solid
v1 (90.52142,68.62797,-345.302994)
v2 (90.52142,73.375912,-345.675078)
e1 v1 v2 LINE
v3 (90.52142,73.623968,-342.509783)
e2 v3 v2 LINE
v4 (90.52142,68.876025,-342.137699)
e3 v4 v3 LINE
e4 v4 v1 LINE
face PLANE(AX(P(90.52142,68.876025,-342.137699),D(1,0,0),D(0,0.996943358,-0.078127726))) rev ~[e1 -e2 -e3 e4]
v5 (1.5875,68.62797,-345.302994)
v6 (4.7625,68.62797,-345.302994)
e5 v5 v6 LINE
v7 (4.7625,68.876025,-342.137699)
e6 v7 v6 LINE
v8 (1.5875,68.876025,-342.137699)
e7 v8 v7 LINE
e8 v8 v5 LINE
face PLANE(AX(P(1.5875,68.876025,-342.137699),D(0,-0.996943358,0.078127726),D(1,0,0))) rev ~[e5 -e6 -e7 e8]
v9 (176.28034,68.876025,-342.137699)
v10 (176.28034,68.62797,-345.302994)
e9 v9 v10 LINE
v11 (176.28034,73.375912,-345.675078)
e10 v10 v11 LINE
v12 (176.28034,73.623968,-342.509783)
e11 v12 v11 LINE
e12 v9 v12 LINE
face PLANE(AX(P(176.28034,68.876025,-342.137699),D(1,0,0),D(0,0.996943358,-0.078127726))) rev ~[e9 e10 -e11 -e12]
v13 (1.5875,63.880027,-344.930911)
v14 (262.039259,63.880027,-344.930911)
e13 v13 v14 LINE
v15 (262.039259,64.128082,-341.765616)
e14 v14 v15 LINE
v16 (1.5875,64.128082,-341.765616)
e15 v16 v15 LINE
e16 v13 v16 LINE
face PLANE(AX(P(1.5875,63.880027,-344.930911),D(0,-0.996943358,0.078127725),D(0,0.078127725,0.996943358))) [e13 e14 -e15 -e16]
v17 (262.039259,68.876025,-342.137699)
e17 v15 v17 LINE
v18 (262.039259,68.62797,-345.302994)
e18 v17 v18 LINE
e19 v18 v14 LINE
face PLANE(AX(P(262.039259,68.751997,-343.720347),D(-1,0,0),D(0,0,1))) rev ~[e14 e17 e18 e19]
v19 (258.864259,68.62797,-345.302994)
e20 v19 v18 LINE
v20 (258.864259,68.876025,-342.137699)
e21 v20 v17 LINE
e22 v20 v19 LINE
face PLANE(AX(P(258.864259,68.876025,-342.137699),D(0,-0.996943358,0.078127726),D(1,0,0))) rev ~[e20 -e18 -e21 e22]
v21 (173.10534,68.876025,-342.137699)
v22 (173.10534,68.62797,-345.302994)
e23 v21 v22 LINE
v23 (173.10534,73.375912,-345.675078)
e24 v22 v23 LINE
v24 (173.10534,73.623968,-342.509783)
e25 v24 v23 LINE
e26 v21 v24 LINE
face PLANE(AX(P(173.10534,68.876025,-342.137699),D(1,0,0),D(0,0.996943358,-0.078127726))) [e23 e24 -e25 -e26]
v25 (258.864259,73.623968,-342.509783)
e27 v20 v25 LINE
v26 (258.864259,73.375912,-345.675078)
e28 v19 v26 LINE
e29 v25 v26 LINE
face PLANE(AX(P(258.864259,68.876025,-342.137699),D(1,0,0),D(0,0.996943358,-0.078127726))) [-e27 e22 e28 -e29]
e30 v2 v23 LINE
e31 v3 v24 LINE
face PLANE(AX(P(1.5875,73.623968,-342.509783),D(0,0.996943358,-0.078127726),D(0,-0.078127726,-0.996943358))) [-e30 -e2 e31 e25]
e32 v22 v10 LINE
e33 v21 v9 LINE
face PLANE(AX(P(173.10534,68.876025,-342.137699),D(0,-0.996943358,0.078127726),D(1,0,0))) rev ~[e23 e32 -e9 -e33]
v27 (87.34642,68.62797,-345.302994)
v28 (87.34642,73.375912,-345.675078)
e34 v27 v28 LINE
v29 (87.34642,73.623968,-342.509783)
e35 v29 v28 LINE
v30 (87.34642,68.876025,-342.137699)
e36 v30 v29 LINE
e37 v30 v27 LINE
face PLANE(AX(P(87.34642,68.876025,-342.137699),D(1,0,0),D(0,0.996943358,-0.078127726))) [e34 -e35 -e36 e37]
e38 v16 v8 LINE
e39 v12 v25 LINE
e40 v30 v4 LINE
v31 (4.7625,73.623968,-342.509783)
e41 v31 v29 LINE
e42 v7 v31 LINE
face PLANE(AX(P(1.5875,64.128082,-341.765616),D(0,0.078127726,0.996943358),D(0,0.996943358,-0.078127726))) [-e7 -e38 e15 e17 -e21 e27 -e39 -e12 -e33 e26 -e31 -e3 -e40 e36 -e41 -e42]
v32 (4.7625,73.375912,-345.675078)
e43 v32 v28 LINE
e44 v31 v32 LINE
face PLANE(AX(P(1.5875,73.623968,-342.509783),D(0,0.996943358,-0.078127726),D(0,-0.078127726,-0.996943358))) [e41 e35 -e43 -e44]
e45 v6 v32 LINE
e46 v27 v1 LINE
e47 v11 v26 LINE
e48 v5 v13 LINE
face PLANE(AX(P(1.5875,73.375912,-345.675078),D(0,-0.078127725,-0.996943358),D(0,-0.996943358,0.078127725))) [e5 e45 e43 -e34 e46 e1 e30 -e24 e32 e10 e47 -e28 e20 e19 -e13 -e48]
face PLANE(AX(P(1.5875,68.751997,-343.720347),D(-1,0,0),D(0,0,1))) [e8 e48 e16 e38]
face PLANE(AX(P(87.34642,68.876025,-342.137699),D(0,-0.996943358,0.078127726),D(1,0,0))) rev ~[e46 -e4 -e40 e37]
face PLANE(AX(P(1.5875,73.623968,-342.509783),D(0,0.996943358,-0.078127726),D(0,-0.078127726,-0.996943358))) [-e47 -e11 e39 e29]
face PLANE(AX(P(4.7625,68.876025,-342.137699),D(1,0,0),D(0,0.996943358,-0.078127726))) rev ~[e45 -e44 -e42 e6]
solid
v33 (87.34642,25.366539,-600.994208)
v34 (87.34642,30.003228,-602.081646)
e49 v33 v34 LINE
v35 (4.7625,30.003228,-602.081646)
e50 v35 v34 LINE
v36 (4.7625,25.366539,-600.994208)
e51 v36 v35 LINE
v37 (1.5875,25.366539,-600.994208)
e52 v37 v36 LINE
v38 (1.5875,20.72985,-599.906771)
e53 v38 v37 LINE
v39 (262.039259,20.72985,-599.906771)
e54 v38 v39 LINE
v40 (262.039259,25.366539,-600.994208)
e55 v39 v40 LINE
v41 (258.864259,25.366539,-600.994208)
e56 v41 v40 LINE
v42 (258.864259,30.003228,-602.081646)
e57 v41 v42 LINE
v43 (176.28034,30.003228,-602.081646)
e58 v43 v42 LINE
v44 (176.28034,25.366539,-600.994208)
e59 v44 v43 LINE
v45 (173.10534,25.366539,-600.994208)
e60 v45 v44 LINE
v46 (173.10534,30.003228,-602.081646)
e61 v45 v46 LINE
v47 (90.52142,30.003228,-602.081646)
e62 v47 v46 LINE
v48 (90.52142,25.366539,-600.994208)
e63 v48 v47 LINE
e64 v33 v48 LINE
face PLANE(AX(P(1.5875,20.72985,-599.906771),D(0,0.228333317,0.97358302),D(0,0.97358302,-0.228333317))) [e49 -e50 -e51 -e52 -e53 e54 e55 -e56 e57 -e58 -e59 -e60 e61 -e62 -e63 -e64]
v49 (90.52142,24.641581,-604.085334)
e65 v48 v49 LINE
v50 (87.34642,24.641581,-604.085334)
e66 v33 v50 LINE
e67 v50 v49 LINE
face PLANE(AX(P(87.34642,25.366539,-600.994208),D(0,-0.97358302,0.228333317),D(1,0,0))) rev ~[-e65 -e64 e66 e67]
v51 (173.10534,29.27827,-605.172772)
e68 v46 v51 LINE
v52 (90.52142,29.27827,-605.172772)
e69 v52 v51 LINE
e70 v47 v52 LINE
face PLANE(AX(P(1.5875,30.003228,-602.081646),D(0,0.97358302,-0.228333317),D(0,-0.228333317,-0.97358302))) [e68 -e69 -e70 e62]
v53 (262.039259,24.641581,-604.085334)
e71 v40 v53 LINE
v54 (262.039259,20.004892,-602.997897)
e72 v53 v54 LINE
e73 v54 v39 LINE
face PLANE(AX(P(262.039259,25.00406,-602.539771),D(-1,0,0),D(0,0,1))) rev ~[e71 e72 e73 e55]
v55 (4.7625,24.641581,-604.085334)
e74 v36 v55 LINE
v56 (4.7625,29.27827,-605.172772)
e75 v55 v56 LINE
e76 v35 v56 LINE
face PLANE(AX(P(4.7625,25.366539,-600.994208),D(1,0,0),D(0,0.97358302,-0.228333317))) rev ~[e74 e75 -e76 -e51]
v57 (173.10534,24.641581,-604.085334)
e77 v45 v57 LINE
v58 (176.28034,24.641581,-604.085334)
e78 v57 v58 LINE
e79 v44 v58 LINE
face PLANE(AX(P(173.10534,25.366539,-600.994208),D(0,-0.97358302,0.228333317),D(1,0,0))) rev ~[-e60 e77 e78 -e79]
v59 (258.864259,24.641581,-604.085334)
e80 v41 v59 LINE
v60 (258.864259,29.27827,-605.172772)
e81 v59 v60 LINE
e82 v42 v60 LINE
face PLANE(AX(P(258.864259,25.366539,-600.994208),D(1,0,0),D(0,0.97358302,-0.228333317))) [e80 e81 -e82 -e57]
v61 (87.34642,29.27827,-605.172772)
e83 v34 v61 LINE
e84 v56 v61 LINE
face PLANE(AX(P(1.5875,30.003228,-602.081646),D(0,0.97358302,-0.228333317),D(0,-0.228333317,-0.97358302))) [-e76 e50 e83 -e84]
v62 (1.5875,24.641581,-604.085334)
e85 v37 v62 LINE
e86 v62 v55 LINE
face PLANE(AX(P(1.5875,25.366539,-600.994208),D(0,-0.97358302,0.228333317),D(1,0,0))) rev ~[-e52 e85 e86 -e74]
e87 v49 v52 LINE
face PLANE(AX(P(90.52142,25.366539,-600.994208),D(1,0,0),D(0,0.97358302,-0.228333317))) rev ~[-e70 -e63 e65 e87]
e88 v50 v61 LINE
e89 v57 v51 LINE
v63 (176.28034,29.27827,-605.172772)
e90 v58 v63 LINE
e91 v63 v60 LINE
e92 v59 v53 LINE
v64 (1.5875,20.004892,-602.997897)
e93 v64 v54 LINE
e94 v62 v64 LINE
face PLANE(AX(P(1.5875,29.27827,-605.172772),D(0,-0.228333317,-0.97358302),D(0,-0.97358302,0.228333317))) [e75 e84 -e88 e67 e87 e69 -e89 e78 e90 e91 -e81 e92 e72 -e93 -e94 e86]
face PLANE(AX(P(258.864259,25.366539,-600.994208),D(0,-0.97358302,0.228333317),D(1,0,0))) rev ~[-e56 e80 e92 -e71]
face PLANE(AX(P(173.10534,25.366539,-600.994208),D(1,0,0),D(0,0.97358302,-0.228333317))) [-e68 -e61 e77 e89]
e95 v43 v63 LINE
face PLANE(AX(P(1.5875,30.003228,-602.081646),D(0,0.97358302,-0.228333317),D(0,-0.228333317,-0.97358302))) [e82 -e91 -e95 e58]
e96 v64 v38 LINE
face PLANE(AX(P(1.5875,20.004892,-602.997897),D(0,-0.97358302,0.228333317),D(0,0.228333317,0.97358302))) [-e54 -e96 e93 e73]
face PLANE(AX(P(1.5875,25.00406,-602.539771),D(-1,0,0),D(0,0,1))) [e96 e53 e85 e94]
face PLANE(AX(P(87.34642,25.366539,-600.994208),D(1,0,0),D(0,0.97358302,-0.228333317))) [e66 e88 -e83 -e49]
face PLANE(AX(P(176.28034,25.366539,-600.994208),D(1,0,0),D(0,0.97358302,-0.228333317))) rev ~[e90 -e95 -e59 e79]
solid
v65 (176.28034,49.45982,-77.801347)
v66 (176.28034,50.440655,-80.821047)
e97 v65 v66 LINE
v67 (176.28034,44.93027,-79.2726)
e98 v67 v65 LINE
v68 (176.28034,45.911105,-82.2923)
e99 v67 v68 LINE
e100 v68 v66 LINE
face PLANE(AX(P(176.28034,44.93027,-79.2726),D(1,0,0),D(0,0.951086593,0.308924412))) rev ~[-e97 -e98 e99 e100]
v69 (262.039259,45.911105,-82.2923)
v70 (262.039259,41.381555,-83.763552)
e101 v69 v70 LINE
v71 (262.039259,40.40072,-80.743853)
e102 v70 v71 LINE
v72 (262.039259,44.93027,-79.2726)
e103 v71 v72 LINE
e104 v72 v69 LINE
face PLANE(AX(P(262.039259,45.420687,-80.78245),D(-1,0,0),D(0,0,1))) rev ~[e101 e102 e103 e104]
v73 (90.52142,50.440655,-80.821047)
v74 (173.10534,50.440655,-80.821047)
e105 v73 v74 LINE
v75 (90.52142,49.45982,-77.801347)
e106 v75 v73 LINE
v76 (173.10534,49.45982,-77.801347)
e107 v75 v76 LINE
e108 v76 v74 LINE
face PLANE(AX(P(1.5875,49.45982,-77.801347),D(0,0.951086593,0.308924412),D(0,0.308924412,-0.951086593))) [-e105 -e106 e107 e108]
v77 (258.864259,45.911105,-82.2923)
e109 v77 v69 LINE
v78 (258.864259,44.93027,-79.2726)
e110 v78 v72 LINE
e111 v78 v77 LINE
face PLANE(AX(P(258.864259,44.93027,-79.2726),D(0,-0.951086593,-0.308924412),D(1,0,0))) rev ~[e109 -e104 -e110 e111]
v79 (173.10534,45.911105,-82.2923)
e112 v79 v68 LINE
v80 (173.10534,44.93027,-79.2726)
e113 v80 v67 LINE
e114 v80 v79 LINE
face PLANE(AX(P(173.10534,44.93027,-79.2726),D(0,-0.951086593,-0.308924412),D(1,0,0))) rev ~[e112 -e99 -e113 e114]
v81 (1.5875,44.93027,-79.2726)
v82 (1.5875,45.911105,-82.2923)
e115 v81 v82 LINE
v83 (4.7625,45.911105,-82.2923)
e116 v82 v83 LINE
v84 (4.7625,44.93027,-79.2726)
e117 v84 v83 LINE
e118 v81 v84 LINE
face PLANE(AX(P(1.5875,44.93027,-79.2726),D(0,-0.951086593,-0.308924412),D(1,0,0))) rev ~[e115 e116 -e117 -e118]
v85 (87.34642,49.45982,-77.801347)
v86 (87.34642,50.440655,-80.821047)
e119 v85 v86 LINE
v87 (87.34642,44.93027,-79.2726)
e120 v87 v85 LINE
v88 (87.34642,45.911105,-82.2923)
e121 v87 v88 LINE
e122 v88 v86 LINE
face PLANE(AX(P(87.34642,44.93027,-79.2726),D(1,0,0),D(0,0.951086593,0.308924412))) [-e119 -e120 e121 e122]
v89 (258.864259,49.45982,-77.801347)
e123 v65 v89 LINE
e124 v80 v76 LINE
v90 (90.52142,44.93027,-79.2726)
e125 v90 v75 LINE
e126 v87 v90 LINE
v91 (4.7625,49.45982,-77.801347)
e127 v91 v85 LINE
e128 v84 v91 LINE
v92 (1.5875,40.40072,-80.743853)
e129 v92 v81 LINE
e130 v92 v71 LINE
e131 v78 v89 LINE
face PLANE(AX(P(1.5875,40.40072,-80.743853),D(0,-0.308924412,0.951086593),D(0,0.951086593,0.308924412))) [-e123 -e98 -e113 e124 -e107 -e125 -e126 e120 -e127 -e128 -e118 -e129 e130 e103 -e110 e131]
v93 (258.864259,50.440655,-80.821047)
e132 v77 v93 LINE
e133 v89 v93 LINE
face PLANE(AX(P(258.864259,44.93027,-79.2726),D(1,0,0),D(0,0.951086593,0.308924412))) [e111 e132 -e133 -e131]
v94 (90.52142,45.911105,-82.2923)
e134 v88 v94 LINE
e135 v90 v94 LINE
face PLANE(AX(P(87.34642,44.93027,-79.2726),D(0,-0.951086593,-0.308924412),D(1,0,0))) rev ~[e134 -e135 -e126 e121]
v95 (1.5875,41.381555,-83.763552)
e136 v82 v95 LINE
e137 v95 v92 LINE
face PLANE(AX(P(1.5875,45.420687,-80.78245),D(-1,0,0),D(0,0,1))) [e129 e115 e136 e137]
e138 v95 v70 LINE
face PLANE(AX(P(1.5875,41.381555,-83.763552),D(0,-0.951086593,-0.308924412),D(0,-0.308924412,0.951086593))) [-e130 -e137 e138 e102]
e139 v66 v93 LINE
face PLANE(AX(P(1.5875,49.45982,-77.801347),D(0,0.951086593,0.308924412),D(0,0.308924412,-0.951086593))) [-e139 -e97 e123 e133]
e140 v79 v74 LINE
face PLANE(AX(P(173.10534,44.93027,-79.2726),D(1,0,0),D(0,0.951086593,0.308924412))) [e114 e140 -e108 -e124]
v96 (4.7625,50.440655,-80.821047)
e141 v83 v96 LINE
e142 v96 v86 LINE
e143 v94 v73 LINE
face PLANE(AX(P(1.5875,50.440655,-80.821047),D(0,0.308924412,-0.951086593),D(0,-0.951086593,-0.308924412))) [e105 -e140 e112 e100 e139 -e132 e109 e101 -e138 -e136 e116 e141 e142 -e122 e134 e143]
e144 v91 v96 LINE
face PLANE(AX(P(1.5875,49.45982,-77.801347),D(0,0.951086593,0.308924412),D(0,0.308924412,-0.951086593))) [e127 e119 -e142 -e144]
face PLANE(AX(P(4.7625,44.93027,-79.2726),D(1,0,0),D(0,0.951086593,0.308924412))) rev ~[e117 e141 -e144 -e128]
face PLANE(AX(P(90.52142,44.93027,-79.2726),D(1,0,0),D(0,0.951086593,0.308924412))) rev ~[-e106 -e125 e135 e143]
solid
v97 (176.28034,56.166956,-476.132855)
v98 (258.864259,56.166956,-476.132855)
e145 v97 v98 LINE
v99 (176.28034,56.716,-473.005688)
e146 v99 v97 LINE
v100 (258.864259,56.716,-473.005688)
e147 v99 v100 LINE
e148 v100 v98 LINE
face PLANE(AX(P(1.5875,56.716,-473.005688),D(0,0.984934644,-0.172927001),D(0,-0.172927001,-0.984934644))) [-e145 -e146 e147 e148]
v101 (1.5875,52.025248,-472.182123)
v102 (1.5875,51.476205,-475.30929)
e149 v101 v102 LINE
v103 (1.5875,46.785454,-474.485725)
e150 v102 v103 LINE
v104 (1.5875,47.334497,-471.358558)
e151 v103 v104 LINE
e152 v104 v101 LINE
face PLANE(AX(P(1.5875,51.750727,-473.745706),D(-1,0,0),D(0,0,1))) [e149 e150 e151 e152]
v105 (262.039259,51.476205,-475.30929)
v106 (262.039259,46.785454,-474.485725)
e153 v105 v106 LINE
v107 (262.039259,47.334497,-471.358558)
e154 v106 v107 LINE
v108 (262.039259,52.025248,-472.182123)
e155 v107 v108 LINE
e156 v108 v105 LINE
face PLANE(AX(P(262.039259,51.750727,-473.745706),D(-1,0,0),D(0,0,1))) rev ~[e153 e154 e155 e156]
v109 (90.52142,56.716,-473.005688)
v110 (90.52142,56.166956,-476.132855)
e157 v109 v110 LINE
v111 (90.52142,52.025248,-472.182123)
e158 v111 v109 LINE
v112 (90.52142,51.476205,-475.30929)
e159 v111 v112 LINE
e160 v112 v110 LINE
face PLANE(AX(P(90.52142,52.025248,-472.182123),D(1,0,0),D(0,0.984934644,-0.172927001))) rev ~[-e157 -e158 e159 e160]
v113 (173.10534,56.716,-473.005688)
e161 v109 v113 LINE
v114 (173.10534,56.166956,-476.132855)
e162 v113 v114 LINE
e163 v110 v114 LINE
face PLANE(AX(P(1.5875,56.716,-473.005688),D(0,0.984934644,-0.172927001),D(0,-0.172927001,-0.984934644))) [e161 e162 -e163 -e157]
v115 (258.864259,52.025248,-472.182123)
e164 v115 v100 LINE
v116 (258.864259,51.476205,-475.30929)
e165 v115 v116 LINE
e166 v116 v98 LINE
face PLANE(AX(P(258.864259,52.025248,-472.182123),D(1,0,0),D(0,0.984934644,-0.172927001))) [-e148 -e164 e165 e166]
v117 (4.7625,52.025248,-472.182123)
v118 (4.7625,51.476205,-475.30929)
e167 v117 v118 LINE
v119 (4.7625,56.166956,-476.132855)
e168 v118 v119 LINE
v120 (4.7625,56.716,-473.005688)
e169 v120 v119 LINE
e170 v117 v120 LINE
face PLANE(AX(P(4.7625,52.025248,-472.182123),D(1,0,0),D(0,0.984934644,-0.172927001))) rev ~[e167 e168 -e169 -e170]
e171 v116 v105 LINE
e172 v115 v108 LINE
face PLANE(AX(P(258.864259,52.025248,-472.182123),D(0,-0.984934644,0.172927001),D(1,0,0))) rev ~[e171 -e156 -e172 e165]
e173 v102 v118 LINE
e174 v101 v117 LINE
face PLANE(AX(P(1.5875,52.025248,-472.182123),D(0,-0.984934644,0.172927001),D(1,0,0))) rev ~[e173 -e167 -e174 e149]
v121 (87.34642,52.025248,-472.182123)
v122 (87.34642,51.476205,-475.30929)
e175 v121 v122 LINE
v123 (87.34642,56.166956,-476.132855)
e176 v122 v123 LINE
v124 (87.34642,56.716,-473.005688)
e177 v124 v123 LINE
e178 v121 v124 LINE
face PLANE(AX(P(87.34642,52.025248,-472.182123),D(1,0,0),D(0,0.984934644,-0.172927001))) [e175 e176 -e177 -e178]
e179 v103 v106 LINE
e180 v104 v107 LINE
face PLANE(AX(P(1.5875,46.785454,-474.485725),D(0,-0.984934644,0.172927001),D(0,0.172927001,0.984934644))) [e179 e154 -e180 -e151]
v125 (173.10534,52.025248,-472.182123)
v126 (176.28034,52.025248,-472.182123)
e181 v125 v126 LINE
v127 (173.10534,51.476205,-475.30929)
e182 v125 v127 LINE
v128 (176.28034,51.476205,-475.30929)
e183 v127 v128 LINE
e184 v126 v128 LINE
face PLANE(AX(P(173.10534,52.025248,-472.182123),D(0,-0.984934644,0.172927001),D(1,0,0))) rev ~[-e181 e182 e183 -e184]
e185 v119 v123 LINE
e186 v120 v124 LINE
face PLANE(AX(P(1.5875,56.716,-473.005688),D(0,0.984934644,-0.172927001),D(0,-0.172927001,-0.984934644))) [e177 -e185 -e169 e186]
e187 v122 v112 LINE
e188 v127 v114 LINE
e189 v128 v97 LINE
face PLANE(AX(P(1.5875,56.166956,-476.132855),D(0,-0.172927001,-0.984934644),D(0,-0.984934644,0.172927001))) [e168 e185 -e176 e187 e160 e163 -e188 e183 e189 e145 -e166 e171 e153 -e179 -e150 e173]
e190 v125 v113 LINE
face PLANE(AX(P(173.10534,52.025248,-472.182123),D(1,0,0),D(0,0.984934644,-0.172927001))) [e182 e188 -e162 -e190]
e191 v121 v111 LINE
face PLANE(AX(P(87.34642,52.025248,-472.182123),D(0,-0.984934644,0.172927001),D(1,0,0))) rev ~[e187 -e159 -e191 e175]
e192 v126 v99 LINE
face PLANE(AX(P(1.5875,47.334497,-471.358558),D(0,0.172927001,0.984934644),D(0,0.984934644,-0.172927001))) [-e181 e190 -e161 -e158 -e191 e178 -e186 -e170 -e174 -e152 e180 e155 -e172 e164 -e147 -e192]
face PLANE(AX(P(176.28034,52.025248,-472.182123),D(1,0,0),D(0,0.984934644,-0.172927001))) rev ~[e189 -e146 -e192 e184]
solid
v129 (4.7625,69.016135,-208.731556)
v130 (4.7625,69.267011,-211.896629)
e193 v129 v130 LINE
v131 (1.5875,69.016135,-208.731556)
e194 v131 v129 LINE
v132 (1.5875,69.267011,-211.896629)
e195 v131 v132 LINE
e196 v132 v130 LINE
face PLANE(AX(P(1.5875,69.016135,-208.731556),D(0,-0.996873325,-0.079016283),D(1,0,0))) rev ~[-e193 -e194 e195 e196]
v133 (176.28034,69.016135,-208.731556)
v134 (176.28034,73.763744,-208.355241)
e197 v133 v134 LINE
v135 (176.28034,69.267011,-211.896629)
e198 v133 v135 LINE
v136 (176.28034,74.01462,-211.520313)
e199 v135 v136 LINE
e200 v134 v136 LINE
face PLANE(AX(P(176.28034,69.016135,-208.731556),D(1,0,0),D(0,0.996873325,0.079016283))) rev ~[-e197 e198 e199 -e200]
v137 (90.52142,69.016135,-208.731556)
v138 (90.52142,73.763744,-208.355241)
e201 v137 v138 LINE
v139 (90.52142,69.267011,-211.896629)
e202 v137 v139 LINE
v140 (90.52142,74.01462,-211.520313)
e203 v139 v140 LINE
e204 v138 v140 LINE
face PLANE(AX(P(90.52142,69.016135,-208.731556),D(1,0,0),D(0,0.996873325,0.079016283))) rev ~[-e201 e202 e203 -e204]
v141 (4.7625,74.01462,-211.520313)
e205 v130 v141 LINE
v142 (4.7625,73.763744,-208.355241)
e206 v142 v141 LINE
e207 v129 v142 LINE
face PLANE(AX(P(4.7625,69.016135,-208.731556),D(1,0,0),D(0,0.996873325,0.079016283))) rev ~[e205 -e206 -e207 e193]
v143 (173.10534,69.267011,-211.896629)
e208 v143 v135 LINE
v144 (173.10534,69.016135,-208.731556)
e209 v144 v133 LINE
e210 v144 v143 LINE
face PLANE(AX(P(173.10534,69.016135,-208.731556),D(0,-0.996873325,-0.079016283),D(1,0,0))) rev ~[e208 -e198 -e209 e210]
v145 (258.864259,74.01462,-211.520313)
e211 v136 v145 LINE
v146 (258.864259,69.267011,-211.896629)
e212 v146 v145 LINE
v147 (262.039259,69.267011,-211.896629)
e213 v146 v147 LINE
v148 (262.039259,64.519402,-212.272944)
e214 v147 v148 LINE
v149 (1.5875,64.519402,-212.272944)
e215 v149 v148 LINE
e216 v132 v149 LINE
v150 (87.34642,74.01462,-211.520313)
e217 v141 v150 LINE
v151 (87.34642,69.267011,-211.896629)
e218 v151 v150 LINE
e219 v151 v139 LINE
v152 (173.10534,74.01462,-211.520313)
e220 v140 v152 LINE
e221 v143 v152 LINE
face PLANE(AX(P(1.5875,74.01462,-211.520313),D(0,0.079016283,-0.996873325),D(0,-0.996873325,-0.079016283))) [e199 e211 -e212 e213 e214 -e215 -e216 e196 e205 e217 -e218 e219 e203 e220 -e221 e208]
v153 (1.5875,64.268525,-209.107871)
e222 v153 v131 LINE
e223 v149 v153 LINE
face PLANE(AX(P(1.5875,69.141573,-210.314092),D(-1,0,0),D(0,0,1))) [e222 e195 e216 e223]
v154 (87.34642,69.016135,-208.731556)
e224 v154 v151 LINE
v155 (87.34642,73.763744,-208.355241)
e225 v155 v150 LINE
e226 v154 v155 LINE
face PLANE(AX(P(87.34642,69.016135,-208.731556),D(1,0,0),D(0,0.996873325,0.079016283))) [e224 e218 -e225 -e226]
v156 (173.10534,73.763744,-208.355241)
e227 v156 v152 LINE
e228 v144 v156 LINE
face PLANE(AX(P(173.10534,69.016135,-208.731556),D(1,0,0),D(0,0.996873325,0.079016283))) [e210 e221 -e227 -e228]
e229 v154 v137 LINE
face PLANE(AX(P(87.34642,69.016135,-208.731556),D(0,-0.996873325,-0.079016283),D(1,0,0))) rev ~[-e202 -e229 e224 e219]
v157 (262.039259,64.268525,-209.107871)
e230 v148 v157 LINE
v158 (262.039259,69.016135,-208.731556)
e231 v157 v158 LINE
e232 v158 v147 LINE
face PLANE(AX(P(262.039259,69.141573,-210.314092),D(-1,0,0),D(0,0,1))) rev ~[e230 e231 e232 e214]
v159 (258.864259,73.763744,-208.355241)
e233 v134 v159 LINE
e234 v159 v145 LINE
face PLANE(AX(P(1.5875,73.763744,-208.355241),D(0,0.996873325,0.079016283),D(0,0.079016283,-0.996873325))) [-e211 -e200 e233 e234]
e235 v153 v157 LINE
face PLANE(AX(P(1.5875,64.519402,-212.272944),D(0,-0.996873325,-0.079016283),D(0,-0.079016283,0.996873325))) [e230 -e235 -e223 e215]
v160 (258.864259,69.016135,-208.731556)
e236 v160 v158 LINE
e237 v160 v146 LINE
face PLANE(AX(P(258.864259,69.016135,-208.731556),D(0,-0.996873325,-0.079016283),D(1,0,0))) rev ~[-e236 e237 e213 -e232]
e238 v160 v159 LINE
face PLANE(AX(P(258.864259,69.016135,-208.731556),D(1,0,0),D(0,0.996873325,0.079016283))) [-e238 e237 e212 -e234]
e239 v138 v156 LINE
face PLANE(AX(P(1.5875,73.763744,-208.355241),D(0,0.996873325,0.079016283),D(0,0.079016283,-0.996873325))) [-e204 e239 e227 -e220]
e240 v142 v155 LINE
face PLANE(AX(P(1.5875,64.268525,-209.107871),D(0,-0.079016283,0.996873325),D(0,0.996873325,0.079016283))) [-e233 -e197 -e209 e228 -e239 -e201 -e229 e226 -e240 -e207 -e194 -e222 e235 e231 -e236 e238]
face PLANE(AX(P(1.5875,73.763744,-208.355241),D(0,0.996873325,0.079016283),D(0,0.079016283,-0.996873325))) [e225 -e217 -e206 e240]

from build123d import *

# Parameters (mm, degrees)
BOSS_EXTRUDE1_START   = 1.5875
BOSS_EXTRUDE1_DEPTH   = 260.451759289
BOSS_EXTRUDE1_2_DEPTH = 260.451759289
BOSS_EXTRUDE1_3_DEPTH = 260.451759289
BOSS_EXTRUDE1_4_DEPTH = 260.451759289
BOSS_EXTRUDE1_5_DEPTH = 260.451759289
SKETCH2_W             = 3.175
SKETCH2_H             = 4.7625
CUT_EXTRUDE1_DEPTH    = 3.175
SKETCH3_W             = 3.175
SKETCH3_H             = 4.7625
CUT_EXTRUDE2_DEPTH    = 3.175
SKETCH4_W             = 3.175
SKETCH4_H             = 4.7625
CUT_EXTRUDE3_DEPTH    = 3.175
SKETCH5_W             = 3.175
SKETCH5_H             = 4.7625
CUT_EXTRUDE4_DEPTH    = 3.175
SKETCH6_W             = 3.175
SKETCH6_H             = 4.7625
CUT_EXTRUDE5_DEPTH    = 3.175
LPATTERN1_COUNT       = 4
LPATTERN1_PITCH       = 85.758919763


with BuildPart() as part:
    # Sketch1 → Boss-Extrude1 (new body)
    with BuildSketch(Plane(origin=(0, 0, 0), x_dir=(0, 0, -1), z_dir=(1, 0, 0)).offset(BOSS_EXTRUDE1_START)):
        Polygon((80.821047426, 50.440654814), (83.763552453, 41.381555015), (80.74385252, 40.400720006), (77.801347493, 49.459819805), align=None)
    extrude(amount=BOSS_EXTRUDE1_DEPTH)

    # Sketch2 → Cut-Extrude1 (cut)
    with BuildSketch(Plane(origin=(0, 27.579277656, -84.908411847), x_dir=(1, 0, 0), z_dir=(0, -0.30892441225152295, 0.9510865930687128))):
        with Locations((3.175, 20.624585966)):
            Rectangle(SKETCH2_W, SKETCH2_H)
    cut_extrude1 = extrude(amount=-CUT_EXTRUDE1_DEPTH, mode=Mode.SUBTRACT)


with BuildPart() as body_2:
    # Sketch1 → Boss-Extrude1 2 (new body)
    with BuildSketch(Plane(origin=(0, 0, 0), x_dir=(0, 0, -1), z_dir=(1, 0, 0)).offset(BOSS_EXTRUDE1_START)):
        Polygon((345.675077754, 73.375912373), (344.930911169, 63.880026891), (341.765616008, 64.128082419), (342.509782594, 73.623967902), align=None)
    extrude(amount=BOSS_EXTRUDE1_2_DEPTH)

    # Sketch4 → Cut-Extrude3 (cut)
    with BuildSketch(Plane(origin=(0, -26.228319642, -334.684631792), x_dir=(1, 0, 0), z_dir=(0, 0.078127725529898, 0.9969433577207508))):
        with Locations((3.175, 97.777186054)):
            Rectangle(SKETCH4_W, SKETCH4_H)
    cut_extrude3 = extrude(amount=-CUT_EXTRUDE3_DEPTH, mode=Mode.SUBTRACT)


with BuildPart() as body_3:
    # Sketch1 → Boss-Extrude1 3 (new body)
    with BuildSketch(Plane(origin=(0, 0, 0), x_dir=(0, 0, -1), z_dir=(1, 0, 0)).offset(BOSS_EXTRUDE1_START)):
        Polygon((476.132855024, 56.166956358), (474.485725341, 46.785453877), (471.358557847, 47.334497105), (473.005687531, 56.715999586), align=None)
    extrude(amount=BOSS_EXTRUDE1_3_DEPTH)

    # Sketch5 → Cut-Extrude4 (cut)
    with BuildSketch(Plane(origin=(0, -78.867156319, -449.201074031), x_dir=(1, 0, 0), z_dir=(0, 0.17292700084736787, 0.984934643708878))):
        with Locations((3.175, 135.275757773)):
            Rectangle(SKETCH5_W, SKETCH5_H)
    cut_extrude4 = extrude(amount=-CUT_EXTRUDE4_DEPTH, mode=Mode.SUBTRACT)


with BuildPart() as body_4:
    # Sketch1 → Boss-Extrude1 4 (new body)
    with BuildSketch(Plane(origin=(0, 0, 0), x_dir=(0, 0, -1), z_dir=(1, 0, 0)).offset(BOSS_EXTRUDE1_START)):
        Polygon((605.172771663, 29.278270064), (602.997896818, 20.004891801), (599.906770731, 20.729850083), (602.081645575, 30.003228346), align=None)
    extrude(amount=BOSS_EXTRUDE1_4_DEPTH)

    # Sketch6 → Cut-Extrude5 (cut)
    with BuildSketch(Plane(origin=(0, -132.27936555, -564.021693621), x_dir=(1, 0, 0), z_dir=(0, 0.22833331699694842, 0.9735830197518707))):
        with Locations((3.175, 164.304682892)):
            Rectangle(SKETCH6_W, SKETCH6_H)
    cut_extrude5 = extrude(amount=-CUT_EXTRUDE5_DEPTH, mode=Mode.SUBTRACT)


with BuildPart() as body_5:
    # Sketch1 → Boss-Extrude1 5 (new body)
    with BuildSketch(Plane(origin=(0, 0, 0), x_dir=(0, 0, -1), z_dir=(1, 0, 0)).offset(BOSS_EXTRUDE1_START)):
        Polygon((208.355240654, 73.763743723), (211.520313463, 74.014620422), (212.27294356, 64.519401997), (209.107870751, 64.268525298), align=None)
    extrude(amount=BOSS_EXTRUDE1_5_DEPTH)

    # Sketch3 → Cut-Extrude2 (cut)
    with BuildSketch(Plane(origin=(0, 16.872530141, -212.864672421), x_dir=(1, 0, 0), z_dir=(0, -0.07901628315628466, 0.996873325451216))):
        with Locations((3.175, 54.68840181)):
            Rectangle(SKETCH3_W, SKETCH3_H)
    cut_extrude2 = extrude(amount=-CUT_EXTRUDE2_DEPTH, mode=Mode.SUBTRACT)


with BuildPart() as lpattern1_tool:
    # LPattern1: Cut-Extrude1, Cut-Extrude2, Cut-Extrude3, Cut-Extrude4, Cut-Extrude5 ×4
    with Locations(*[(i * LPATTERN1_PITCH, 0, 0) for i in range(1, LPATTERN1_COUNT)]):
        add(cut_extrude1)
        add(cut_extrude2)
        add(cut_extrude3)
        add(cut_extrude4)
        add(cut_extrude5)


with BuildPart() as part_1:
    add(part.part)

    # LPattern1: cut by lpattern1_tool
    add(lpattern1_tool.part, mode=Mode.SUBTRACT)


with BuildPart() as body_2_1:
    add(body_2.part)

    # LPattern1: cut by lpattern1_tool
    add(lpattern1_tool.part, mode=Mode.SUBTRACT)


with BuildPart() as body_3_1:
    add(body_3.part)

    # LPattern1: cut by lpattern1_tool
    add(lpattern1_tool.part, mode=Mode.SUBTRACT)


with BuildPart() as body_4_1:
    add(body_4.part)

    # LPattern1: cut by lpattern1_tool
    add(lpattern1_tool.part, mode=Mode.SUBTRACT)


with BuildPart() as body_5_1:
    add(body_5.part)

    # LPattern1: cut by lpattern1_tool
    add(lpattern1_tool.part, mode=Mode.SUBTRACT)


solid = Compound([part_1.part, body_2_1.part, body_3_1.part, body_4_1.part, body_5_1.part])
